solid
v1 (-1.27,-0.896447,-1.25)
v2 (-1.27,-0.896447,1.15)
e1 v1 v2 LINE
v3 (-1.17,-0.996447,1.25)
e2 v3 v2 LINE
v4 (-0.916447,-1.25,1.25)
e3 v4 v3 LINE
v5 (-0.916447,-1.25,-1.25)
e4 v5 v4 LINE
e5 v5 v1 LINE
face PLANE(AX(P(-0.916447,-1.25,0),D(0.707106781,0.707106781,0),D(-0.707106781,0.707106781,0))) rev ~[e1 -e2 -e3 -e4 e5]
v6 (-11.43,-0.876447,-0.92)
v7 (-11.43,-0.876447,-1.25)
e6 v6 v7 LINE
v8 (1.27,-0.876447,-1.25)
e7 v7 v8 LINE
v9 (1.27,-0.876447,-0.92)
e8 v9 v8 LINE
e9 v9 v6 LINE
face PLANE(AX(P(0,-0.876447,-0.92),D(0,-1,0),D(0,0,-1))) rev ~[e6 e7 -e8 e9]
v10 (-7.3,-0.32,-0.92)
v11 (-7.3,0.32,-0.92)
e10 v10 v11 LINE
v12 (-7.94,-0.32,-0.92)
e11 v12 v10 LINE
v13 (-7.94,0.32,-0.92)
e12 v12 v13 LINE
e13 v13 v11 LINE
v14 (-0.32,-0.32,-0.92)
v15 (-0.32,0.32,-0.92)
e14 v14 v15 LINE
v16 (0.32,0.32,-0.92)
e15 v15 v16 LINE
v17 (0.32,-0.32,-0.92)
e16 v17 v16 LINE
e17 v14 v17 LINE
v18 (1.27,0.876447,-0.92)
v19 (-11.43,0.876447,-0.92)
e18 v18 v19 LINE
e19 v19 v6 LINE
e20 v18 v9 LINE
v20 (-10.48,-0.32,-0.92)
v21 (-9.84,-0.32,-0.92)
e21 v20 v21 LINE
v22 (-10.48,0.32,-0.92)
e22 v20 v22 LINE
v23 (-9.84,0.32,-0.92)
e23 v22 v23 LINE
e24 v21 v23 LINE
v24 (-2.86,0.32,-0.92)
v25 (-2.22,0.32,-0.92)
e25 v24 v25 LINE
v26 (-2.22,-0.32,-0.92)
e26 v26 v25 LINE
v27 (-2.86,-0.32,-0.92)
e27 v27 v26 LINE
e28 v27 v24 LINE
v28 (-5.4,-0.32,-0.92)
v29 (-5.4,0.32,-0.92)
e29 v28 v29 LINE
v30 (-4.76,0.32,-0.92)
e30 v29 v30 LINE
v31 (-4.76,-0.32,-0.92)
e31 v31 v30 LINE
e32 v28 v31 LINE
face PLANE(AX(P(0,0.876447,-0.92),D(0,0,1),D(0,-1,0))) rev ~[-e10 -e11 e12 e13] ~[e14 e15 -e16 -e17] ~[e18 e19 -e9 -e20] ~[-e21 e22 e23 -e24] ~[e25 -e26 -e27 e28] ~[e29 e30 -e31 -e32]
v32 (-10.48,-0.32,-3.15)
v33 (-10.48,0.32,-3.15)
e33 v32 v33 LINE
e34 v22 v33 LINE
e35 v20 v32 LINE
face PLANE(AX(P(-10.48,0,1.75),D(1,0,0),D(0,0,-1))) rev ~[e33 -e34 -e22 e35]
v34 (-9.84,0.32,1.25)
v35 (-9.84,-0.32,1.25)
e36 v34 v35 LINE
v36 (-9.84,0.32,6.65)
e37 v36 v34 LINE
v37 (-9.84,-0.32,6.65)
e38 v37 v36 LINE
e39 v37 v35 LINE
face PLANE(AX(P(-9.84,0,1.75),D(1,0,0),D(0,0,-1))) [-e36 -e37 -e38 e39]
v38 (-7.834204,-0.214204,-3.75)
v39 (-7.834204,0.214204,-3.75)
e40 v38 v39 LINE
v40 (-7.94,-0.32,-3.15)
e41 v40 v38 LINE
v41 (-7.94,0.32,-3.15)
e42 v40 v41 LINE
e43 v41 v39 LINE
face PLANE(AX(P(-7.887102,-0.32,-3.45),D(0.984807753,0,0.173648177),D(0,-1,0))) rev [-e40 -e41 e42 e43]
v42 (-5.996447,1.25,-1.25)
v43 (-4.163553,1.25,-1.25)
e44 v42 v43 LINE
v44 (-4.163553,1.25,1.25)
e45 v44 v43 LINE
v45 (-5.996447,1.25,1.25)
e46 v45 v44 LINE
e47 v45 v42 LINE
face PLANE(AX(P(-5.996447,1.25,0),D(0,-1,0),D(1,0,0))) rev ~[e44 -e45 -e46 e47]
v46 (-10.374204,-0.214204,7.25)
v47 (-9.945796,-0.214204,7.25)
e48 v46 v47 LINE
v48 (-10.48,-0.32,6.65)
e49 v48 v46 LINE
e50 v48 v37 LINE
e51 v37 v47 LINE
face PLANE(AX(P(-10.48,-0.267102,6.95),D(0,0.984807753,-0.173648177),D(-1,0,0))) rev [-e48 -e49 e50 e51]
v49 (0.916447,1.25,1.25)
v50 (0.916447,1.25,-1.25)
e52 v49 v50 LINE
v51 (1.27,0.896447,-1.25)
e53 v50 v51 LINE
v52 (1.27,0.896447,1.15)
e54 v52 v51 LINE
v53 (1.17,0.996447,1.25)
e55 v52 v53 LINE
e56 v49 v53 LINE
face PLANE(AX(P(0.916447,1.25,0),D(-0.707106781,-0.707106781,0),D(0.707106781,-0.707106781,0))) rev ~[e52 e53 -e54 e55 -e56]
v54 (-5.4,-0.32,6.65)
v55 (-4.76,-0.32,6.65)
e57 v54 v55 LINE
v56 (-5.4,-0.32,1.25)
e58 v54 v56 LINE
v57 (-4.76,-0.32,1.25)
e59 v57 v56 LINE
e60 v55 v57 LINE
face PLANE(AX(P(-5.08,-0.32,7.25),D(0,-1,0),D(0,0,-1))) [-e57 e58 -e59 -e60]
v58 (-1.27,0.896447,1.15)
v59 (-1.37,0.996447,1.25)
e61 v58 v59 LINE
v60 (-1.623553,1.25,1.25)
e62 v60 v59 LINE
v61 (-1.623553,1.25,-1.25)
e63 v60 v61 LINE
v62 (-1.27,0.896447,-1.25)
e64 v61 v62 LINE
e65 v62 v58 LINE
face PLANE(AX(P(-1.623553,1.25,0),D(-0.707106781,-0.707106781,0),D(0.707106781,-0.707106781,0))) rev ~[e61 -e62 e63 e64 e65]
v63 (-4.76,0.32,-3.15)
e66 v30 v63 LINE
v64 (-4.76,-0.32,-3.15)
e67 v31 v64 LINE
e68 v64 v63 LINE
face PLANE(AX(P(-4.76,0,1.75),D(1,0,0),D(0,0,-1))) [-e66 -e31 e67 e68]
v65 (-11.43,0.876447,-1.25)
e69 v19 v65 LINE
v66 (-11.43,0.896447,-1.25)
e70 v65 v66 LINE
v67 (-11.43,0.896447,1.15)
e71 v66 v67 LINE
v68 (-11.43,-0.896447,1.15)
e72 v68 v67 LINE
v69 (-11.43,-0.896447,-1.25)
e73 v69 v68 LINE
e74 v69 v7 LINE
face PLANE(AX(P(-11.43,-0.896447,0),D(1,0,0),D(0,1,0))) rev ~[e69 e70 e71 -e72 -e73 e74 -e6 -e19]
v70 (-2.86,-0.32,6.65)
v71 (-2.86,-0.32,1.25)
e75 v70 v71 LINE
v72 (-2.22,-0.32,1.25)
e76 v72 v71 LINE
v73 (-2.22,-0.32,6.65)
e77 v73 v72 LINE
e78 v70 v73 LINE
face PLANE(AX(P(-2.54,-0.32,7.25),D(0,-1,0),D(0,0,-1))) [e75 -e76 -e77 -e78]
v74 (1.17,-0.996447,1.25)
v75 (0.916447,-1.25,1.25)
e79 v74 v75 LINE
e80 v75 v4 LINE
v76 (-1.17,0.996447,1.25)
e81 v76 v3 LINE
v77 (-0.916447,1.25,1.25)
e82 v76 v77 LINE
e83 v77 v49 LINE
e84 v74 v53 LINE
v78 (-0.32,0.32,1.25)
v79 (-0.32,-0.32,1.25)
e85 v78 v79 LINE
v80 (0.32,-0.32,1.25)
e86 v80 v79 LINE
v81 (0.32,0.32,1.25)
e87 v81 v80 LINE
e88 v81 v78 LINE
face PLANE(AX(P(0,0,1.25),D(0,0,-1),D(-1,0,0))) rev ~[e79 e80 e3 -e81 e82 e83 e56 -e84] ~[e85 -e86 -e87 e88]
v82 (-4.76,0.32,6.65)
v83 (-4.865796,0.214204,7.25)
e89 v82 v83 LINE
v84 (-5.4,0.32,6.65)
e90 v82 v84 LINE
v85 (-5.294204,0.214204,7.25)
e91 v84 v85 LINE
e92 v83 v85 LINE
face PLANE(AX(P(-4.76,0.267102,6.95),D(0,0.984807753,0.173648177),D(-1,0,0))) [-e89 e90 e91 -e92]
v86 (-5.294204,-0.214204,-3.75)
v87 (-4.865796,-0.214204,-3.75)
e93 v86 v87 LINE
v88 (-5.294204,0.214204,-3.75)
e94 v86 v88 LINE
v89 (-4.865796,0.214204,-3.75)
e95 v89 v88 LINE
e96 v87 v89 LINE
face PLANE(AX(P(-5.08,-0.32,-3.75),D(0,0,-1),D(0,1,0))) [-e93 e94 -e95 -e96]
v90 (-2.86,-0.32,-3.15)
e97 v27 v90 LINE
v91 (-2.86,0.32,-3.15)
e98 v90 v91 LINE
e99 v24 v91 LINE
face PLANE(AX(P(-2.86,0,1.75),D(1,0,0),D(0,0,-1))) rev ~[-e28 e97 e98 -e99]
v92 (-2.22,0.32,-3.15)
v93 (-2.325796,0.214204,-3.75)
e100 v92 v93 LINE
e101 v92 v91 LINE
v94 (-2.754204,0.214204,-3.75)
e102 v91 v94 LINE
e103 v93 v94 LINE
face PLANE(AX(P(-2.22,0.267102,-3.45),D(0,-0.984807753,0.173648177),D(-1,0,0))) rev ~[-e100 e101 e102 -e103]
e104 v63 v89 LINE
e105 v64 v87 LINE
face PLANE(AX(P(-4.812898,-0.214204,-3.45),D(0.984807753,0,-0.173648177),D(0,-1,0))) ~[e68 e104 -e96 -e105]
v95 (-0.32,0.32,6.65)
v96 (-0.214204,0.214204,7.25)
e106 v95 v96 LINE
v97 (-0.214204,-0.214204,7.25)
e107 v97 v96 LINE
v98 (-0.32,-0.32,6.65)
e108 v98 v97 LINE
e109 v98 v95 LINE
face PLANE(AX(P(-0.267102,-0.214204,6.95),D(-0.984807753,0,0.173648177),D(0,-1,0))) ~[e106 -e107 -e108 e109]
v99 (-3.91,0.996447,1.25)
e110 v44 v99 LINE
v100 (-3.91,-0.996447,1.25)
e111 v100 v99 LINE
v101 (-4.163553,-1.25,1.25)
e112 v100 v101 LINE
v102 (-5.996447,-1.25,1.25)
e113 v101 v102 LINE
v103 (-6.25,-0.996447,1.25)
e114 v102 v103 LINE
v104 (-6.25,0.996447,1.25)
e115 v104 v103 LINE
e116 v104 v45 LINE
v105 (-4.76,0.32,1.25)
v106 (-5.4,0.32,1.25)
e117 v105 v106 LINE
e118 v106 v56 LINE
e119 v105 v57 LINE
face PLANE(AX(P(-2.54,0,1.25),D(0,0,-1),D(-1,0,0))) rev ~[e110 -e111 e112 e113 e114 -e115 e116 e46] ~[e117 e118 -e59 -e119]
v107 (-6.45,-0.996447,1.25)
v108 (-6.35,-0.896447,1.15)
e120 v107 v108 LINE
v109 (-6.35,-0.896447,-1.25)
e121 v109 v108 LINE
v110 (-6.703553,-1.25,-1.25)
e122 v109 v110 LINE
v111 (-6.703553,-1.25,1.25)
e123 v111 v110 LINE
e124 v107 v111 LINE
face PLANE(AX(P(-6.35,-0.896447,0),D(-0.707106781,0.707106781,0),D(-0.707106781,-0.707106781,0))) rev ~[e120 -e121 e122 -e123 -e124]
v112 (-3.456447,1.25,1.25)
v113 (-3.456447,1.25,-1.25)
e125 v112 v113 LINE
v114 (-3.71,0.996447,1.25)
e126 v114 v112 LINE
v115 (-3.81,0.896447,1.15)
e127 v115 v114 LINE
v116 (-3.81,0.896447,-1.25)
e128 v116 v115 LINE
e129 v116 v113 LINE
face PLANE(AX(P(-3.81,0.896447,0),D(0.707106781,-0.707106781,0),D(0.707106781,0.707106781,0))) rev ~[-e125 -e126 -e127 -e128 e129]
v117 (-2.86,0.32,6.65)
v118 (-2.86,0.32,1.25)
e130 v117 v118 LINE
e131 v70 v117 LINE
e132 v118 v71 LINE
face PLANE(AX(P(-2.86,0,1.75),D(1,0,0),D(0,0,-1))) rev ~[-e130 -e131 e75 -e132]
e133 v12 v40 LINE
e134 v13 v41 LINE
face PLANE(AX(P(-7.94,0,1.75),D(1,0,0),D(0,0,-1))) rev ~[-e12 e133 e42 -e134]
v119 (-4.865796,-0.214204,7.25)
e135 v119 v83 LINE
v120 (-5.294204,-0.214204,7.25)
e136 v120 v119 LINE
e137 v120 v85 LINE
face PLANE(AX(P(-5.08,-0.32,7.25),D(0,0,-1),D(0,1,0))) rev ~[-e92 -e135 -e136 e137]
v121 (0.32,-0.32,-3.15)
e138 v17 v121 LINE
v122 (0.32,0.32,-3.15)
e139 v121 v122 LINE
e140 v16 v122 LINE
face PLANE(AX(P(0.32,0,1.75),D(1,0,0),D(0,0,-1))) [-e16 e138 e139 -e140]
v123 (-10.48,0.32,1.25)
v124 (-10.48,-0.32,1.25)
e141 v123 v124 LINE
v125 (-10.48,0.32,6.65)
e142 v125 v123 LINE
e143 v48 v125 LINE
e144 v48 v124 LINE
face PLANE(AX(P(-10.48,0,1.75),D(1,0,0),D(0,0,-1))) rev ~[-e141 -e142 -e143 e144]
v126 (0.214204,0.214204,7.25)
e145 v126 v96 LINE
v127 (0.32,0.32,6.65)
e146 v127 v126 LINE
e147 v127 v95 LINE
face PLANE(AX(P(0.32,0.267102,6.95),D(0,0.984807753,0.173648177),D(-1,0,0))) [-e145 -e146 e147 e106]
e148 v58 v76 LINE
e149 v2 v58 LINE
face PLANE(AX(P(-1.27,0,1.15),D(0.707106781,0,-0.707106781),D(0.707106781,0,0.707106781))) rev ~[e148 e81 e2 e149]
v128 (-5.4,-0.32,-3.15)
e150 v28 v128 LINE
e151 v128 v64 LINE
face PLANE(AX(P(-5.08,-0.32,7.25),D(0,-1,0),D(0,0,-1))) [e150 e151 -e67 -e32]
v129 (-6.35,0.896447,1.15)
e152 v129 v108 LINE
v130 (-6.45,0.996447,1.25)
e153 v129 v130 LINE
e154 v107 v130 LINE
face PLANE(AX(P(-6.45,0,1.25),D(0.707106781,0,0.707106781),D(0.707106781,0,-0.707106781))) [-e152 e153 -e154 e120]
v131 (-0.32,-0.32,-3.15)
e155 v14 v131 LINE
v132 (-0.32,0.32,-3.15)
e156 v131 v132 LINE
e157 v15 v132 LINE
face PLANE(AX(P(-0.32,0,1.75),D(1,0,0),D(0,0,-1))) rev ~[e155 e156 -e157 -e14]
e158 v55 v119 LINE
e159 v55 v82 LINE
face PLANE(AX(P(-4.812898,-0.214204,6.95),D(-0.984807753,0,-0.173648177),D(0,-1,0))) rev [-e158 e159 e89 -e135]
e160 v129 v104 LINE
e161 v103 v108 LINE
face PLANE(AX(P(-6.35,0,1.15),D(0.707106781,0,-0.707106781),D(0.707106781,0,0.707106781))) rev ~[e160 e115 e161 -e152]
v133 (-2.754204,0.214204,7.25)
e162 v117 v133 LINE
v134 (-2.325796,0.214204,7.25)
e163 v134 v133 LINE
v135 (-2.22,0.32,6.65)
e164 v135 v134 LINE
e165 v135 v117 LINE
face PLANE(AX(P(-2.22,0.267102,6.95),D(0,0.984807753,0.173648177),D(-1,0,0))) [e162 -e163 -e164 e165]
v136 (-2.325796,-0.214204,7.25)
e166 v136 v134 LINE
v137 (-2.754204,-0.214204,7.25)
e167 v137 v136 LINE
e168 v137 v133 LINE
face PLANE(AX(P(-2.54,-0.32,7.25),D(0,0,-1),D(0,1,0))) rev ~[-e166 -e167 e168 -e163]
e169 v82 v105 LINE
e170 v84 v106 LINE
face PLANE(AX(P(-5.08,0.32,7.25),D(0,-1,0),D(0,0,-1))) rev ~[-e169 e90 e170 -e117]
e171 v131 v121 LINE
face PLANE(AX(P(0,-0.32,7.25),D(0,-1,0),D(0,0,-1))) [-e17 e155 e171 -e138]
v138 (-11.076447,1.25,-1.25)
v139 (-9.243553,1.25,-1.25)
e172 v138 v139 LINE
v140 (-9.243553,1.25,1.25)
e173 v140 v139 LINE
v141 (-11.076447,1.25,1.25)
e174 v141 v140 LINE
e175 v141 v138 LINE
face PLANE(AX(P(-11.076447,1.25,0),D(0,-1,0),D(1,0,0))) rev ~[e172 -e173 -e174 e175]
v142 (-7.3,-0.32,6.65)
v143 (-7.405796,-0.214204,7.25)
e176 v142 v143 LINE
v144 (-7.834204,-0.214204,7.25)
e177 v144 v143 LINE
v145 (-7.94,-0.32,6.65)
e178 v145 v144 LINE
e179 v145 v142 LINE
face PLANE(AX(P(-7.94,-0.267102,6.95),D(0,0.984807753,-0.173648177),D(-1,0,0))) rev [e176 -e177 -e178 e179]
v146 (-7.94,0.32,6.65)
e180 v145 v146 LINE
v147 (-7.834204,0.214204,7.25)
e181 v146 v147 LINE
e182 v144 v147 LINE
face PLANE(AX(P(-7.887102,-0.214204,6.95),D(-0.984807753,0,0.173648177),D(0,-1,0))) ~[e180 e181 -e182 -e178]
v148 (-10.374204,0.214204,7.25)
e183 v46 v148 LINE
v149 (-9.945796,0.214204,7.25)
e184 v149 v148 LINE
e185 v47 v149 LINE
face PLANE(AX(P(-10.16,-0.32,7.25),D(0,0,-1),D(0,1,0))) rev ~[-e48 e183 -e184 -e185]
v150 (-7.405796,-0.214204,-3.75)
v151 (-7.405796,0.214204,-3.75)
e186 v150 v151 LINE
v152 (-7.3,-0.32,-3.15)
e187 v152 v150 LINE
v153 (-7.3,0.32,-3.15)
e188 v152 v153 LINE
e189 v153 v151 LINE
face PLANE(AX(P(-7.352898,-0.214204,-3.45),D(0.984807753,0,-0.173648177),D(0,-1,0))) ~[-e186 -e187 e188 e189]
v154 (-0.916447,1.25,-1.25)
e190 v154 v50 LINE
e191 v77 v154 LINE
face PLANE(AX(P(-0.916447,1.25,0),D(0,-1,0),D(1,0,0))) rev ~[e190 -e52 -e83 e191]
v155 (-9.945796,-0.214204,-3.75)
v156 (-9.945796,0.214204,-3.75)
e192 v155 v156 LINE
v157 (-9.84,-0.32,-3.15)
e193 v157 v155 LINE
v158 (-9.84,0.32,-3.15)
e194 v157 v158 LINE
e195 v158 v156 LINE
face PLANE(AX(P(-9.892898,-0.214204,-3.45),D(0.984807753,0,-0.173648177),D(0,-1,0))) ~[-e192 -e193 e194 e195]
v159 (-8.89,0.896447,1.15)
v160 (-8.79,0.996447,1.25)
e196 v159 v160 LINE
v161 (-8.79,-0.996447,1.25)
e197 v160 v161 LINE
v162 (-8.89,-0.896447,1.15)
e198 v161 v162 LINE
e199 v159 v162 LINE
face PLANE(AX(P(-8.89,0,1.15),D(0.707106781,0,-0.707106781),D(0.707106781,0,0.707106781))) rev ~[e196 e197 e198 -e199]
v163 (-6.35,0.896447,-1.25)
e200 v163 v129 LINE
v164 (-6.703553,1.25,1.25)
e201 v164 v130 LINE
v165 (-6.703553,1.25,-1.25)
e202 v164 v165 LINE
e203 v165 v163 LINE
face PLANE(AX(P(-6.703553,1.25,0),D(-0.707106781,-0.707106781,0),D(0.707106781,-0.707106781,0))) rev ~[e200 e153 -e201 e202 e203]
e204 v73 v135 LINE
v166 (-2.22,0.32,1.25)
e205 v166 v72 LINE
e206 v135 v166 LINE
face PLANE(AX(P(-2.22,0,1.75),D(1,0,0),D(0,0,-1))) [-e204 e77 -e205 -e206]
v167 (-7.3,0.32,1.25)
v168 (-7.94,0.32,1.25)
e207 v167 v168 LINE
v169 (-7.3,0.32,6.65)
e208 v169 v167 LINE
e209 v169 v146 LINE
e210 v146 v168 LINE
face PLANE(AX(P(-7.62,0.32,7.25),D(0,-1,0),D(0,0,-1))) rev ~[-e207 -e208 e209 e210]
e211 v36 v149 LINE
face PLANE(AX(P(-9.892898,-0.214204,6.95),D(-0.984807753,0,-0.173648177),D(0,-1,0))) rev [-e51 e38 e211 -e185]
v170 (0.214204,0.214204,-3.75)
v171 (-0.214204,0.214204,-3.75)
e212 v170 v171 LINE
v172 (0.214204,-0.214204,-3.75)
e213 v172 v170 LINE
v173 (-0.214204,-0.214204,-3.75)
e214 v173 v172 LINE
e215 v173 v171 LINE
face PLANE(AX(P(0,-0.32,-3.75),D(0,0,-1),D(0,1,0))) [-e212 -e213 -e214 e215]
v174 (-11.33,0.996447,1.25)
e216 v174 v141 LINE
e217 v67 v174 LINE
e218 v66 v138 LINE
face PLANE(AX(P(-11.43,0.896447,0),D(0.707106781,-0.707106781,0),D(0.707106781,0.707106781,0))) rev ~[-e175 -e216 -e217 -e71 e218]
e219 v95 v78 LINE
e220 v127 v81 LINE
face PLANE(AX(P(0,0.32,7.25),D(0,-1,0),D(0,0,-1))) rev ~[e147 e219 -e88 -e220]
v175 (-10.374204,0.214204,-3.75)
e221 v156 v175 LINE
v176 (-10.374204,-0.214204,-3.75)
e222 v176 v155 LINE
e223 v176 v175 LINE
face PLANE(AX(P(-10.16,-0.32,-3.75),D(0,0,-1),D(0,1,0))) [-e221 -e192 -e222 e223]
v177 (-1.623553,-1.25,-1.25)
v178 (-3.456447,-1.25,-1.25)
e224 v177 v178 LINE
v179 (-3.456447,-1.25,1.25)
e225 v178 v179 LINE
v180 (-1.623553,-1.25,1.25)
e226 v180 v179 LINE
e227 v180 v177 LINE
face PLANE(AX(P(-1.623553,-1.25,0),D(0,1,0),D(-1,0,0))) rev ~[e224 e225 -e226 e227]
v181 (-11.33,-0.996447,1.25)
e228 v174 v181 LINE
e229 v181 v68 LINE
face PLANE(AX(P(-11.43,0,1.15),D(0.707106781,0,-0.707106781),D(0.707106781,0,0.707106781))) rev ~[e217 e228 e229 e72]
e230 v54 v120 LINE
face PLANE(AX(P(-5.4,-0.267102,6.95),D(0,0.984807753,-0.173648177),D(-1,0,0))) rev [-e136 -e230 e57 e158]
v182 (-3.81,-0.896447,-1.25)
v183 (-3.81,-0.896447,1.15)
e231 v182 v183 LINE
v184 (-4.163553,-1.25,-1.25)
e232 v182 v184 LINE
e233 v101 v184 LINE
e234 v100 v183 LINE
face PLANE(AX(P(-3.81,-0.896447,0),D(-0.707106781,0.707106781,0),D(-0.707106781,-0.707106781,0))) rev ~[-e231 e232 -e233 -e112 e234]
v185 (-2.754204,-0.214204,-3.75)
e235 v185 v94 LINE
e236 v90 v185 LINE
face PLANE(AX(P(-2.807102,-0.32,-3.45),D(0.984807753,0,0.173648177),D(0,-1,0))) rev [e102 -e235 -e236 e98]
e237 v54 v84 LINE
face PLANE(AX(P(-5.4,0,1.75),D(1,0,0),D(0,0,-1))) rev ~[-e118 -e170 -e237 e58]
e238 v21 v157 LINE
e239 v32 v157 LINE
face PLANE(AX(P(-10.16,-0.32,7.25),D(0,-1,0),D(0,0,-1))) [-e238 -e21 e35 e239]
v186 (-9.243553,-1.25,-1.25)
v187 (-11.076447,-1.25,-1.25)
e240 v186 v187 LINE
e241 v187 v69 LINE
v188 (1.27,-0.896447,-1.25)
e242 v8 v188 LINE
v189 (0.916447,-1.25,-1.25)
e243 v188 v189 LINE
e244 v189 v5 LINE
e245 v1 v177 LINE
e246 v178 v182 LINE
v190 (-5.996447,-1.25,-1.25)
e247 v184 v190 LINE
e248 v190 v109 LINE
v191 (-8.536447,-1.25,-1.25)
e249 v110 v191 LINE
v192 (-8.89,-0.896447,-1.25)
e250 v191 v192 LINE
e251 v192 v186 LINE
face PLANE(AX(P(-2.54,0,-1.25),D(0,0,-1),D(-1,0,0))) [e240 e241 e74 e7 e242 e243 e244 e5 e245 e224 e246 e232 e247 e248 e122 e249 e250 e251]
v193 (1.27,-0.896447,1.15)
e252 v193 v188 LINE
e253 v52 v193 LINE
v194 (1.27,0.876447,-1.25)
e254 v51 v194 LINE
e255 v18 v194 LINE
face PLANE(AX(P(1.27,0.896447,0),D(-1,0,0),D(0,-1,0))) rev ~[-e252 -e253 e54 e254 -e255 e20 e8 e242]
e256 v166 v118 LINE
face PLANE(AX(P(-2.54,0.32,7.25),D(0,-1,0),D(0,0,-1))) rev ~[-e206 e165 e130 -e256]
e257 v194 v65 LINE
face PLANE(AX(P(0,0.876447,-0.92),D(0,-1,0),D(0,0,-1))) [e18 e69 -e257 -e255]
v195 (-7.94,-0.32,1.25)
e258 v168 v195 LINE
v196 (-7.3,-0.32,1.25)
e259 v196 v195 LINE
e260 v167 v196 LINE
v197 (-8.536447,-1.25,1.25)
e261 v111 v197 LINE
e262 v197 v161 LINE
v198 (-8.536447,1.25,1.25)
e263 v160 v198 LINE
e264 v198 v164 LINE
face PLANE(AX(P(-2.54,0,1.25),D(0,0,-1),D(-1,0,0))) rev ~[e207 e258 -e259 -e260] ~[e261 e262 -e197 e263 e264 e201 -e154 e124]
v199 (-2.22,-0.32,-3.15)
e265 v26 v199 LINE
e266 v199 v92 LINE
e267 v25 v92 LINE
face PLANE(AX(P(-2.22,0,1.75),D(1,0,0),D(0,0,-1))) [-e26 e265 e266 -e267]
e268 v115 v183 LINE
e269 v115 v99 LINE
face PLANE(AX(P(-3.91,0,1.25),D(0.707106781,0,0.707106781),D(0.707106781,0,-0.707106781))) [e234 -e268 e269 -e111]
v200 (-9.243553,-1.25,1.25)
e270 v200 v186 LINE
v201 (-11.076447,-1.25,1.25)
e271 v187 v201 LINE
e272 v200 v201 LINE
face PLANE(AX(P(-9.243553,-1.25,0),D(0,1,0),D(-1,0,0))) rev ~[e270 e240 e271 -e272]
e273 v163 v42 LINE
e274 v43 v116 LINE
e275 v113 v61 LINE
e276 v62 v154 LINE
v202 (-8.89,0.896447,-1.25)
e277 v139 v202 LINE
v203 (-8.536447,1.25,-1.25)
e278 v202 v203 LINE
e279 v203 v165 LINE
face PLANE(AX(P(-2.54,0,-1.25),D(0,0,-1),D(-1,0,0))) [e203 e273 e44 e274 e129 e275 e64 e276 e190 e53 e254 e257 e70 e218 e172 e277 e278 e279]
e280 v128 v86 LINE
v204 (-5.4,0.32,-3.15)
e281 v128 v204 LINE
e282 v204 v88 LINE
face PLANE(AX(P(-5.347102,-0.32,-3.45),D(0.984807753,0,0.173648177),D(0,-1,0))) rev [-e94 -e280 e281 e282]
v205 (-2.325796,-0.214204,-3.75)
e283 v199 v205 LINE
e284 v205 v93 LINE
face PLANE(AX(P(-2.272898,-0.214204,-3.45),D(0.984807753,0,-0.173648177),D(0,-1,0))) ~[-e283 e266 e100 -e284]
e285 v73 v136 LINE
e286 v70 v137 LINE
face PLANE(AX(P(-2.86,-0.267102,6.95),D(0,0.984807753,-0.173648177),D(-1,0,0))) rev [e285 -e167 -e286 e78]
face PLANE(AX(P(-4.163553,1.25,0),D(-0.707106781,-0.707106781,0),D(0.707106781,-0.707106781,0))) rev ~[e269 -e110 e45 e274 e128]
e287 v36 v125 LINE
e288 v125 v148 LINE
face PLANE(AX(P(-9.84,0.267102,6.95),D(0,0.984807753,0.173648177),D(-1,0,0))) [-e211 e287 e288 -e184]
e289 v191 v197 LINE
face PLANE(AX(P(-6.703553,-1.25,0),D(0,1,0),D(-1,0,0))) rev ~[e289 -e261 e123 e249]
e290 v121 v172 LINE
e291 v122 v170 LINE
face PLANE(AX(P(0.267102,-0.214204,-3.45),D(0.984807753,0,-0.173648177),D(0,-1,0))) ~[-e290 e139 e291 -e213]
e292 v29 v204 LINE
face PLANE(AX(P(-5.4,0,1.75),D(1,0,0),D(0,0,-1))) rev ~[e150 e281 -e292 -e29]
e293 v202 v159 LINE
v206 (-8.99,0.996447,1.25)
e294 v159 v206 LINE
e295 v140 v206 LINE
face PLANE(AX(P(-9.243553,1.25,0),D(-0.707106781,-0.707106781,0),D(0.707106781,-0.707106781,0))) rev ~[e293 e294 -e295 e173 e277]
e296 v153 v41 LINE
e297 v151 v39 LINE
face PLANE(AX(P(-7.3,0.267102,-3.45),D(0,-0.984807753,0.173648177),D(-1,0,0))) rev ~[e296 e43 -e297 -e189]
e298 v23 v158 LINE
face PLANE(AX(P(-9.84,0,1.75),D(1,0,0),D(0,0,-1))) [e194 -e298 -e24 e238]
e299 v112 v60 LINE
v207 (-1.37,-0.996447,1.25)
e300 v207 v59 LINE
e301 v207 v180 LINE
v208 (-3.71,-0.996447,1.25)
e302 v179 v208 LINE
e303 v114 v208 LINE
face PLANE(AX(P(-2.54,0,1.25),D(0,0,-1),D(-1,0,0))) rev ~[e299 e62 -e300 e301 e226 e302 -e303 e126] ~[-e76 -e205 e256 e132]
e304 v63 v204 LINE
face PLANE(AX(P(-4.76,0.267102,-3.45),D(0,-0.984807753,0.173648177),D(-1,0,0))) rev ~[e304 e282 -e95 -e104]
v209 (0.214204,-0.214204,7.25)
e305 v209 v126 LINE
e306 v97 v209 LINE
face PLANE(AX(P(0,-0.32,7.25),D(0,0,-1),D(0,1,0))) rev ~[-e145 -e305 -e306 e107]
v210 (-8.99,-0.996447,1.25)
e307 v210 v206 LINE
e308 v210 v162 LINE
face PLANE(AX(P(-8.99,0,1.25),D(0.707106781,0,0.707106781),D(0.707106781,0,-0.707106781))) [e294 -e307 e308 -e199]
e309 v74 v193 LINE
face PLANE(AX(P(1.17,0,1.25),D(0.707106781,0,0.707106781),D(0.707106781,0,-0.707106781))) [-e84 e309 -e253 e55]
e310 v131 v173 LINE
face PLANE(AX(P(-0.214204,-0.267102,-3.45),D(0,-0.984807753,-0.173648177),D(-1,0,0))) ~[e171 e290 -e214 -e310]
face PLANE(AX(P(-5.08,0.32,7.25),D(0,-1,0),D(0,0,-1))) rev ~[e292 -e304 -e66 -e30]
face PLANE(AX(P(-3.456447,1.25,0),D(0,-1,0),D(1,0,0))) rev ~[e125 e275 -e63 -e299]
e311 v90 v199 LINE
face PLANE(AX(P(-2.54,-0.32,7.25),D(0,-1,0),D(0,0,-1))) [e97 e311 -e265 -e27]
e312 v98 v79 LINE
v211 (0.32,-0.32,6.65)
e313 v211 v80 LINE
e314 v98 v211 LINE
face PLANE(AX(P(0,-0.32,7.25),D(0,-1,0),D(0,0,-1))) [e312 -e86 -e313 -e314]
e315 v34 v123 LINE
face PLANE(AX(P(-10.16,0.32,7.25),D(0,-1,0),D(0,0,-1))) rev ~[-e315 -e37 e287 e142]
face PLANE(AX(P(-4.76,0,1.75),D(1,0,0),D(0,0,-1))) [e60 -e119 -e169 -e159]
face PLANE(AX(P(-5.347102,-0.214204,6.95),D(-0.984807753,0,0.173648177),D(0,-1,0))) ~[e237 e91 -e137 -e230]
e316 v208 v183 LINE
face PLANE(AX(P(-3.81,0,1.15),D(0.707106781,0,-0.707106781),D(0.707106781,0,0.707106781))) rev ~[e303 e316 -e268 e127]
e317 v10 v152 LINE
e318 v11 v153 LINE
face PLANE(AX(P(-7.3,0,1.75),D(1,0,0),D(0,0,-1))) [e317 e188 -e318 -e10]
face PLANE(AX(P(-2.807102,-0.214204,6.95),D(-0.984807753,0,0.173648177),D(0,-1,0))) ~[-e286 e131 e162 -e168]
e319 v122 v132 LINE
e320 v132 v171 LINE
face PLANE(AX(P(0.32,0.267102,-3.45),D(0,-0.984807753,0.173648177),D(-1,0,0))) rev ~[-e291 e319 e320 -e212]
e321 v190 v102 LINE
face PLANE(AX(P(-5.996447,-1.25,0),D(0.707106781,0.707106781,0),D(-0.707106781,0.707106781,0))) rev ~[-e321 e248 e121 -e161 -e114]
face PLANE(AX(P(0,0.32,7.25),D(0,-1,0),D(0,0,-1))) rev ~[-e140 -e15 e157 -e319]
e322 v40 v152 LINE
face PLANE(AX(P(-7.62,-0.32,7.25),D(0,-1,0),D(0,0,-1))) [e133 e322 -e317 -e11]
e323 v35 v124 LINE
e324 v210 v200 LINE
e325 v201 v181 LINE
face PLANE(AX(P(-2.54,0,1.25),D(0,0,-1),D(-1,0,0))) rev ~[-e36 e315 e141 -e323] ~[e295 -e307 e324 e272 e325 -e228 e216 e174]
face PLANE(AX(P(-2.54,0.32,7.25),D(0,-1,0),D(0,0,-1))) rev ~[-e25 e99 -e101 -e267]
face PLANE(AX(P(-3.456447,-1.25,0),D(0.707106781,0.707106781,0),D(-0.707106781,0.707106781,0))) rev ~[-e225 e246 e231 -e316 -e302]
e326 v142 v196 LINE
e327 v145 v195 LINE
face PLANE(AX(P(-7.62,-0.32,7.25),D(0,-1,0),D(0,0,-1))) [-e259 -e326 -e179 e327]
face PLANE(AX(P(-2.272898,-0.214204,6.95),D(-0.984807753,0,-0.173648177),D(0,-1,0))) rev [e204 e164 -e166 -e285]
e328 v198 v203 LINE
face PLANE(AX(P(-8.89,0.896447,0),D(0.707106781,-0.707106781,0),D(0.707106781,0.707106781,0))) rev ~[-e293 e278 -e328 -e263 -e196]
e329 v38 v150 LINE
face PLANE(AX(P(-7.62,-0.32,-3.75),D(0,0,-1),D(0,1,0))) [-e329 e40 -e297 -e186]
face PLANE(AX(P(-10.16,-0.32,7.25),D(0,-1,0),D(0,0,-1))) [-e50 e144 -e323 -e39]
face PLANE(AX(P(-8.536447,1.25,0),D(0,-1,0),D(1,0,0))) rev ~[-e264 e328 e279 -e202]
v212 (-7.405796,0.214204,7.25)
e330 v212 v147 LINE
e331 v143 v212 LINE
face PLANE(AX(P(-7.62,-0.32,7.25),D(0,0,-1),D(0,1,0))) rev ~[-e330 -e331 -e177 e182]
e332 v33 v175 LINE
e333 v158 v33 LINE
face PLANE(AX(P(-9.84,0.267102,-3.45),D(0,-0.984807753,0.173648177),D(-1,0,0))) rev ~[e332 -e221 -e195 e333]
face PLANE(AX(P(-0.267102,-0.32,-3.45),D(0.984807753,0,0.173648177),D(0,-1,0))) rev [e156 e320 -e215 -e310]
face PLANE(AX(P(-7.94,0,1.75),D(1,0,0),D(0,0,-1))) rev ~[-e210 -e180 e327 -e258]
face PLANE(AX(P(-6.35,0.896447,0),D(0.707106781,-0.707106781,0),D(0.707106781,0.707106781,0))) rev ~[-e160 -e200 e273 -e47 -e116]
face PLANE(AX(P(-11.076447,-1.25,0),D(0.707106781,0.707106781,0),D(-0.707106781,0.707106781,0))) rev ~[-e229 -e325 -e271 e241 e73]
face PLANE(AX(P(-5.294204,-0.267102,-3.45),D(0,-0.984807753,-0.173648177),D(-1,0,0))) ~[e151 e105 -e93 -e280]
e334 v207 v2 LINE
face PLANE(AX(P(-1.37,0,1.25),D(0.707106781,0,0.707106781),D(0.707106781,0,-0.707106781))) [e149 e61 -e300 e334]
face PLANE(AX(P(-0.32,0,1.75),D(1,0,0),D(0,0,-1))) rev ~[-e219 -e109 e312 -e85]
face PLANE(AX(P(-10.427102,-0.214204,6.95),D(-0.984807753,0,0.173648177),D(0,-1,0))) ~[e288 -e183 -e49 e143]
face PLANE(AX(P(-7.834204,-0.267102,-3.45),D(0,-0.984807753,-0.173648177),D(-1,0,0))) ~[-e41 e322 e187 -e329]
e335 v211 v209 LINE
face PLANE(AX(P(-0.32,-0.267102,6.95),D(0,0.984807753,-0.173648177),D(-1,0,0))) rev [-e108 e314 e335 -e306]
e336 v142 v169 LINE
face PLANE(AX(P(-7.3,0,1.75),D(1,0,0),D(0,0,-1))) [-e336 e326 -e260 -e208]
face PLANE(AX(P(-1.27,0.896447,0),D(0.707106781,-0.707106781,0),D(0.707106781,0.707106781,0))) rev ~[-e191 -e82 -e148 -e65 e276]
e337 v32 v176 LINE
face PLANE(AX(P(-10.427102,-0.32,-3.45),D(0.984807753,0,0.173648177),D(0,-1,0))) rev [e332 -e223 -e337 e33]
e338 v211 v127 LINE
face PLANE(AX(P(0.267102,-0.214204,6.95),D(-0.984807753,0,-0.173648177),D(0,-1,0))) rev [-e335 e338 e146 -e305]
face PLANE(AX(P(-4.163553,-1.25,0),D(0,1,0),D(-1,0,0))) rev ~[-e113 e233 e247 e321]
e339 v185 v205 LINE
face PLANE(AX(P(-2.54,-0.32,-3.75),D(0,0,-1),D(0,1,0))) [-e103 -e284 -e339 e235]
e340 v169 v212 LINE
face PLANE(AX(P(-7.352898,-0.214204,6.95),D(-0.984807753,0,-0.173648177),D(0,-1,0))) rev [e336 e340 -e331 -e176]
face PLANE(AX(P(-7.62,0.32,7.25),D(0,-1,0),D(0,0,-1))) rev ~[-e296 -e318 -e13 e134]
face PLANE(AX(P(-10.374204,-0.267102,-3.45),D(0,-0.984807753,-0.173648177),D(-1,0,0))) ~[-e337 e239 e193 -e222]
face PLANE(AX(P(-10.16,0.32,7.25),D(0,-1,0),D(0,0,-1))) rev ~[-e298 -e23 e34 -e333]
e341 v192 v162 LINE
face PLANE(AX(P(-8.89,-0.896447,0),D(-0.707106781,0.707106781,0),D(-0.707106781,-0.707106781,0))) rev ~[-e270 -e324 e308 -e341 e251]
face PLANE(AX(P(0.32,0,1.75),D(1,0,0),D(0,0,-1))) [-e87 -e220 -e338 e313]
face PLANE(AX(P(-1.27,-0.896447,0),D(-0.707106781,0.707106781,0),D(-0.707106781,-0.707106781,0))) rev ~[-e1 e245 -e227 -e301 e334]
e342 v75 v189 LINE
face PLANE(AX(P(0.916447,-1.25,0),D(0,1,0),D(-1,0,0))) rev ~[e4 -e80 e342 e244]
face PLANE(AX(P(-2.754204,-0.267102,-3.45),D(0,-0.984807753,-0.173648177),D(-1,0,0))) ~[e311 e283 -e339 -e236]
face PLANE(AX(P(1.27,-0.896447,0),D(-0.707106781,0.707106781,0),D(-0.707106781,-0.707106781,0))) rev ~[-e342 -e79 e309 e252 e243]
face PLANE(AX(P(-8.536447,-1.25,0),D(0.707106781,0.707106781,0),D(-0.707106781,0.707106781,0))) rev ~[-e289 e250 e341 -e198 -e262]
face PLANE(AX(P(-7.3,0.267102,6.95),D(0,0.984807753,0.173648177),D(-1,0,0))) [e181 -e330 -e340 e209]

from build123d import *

# Parameters (mm, degrees)
EXTRUDE1_DEPTH          = 1.25
CUT_EXTRUDE3_DEPTH      = 2.25
LPATTERN4_COUNT         = 5
LPATTERN4_PITCH         = 2.54
SKETCH2_W               = 1.752893218
SKETCH2_H               = 0.33
CUT_EXTRUDE1_DEPTH      = 2.27
CUT_EXTRUDE1_DEPTH_BACK = 12.43
SKETCH3_W               = 11
SKETCH3_H               = 0.64
EXTRUDE_THIN1_DEPTH     = 0.32
LPATTERN5_COUNT         = 5
LPATTERN5_PITCH         = 2.54
CHAMFER2_SIZE           = 0.6
CHAMFER2_SIZE2          = 0.105796188
CHAMFER2_PART_2_SIZE    = 0.6
CHAMFER2_PART_2_SIZE2   = 0.105796188
CHAMFER2_PART_3_SIZE    = 0.6
CHAMFER2_PART_3_SIZE2   = 0.105796188
CHAMFER2_PART_4_SIZE    = 0.6
CHAMFER2_PART_4_SIZE2   = 0.105796188
CHAMFER2_PART_5_SIZE    = 0.6
CHAMFER2_PART_5_SIZE2   = 0.105796188
CHAMFER2_PART_6_SIZE    = 0.6
CHAMFER2_PART_6_SIZE2   = 0.105796188
CHAMFER2_PART_7_SIZE    = 0.6
CHAMFER2_PART_7_SIZE2   = 0.105796188
CHAMFER2_PART_8_SIZE    = 0.6
CHAMFER2_PART_8_SIZE2   = 0.105796188
CHAMFER2_PART_9_SIZE    = 0.6
CHAMFER2_PART_9_SIZE2   = 0.105796188
CHAMFER2_PART_10_SIZE   = 0.6
CHAMFER2_PART_10_SIZE2  = 0.105796188
CHAMFER2_PART_11_SIZE   = 0.6
CHAMFER2_PART_11_SIZE2  = 0.105796188
CHAMFER2_PART_12_SIZE   = 0.6
CHAMFER2_PART_12_SIZE2  = 0.105796188
CHAMFER2_PART_13_SIZE   = 0.6
CHAMFER2_PART_13_SIZE2  = 0.105796188
CHAMFER2_PART_14_SIZE   = 0.6
CHAMFER2_PART_14_SIZE2  = 0.105796188
CHAMFER2_PART_15_SIZE   = 0.6
CHAMFER2_PART_15_SIZE2  = 0.105796188
CHAMFER2_PART_16_SIZE   = 0.6
CHAMFER2_PART_16_SIZE2  = 0.105796188
CHAMFER2_PART_17_SIZE   = 0.6
CHAMFER2_PART_17_SIZE2  = 0.105796188
CHAMFER2_PART_18_SIZE   = 0.6
CHAMFER2_PART_18_SIZE2  = 0.105796188
CHAMFER2_PART_19_SIZE   = 0.6
CHAMFER2_PART_19_SIZE2  = 0.105796188
CHAMFER2_PART_20_SIZE   = 0.6
CHAMFER2_PART_20_SIZE2  = 0.105796188
CHAMFER2_PART_21_SIZE   = 0.6
CHAMFER2_PART_21_SIZE2  = 0.105796188
CHAMFER2_PART_22_SIZE   = 0.6
CHAMFER2_PART_22_SIZE2  = 0.105796188
CHAMFER2_PART_23_SIZE   = 0.6
CHAMFER2_PART_23_SIZE2  = 0.105796188
CHAMFER2_PART_24_SIZE   = 0.6
CHAMFER2_PART_24_SIZE2  = 0.105796188
CHAMFER2_PART_25_SIZE   = 0.6
CHAMFER2_PART_25_SIZE2  = 0.105796188
CHAMFER2_PART_26_SIZE   = 0.6
CHAMFER2_PART_26_SIZE2  = 0.105796188
CHAMFER2_PART_27_SIZE   = 0.6
CHAMFER2_PART_27_SIZE2  = 0.105796188
CHAMFER2_PART_28_SIZE   = 0.6
CHAMFER2_PART_28_SIZE2  = 0.105796188
CHAMFER2_PART_29_SIZE   = 0.6
CHAMFER2_PART_29_SIZE2  = 0.105796188
CHAMFER2_PART_30_SIZE   = 0.6
CHAMFER2_PART_30_SIZE2  = 0.105796188
CHAMFER2_PART_31_SIZE   = 0.6
CHAMFER2_PART_31_SIZE2  = 0.105796188
CHAMFER2_PART_32_SIZE   = 0.6
CHAMFER2_PART_32_SIZE2  = 0.105796188
CHAMFER2_PART_33_SIZE   = 0.6
CHAMFER2_PART_33_SIZE2  = 0.105796188
CHAMFER2_PART_34_SIZE   = 0.6
CHAMFER2_PART_34_SIZE2  = 0.105796188
CHAMFER2_PART_35_SIZE   = 0.6
CHAMFER2_PART_35_SIZE2  = 0.105796188
CHAMFER2_PART_36_SIZE   = 0.6
CHAMFER2_PART_36_SIZE2  = 0.105796188
CHAMFER2_PART_37_SIZE   = 0.6
CHAMFER2_PART_37_SIZE2  = 0.105796188
CHAMFER2_PART_38_SIZE   = 0.6
CHAMFER2_PART_38_SIZE2  = 0.105796188
CHAMFER2_PART_39_SIZE   = 0.6
CHAMFER2_PART_39_SIZE2  = 0.105796188
CHAMFER2_PART_40_SIZE   = 0.6
CHAMFER2_PART_40_SIZE2  = 0.105796188


with BuildPart() as part:
    # Sketch1 → Extrude1 (new body, symmetric)
    with BuildSketch(Plane.XY):
        Polygon((-1.27, 0.896446609), (-0.916446609, 1.25), (0.916446609, 1.25), (1.27, 0.896446609), (1.27, -0.896446609), (0.916446609, -1.25), (-0.916446609, -1.25), (-1.27, -0.896446609), align=None)
    extrude1 = extrude(amount=EXTRUDE1_DEPTH, both=True)

    # Sketch4 → Cut-Extrude3 (cut, symmetric)
    with BuildSketch(Plane(origin=(0, 0, 0), x_dir=(1, 0, 0), z_dir=(0, 1, 0))):
        Polygon((-1.27, -1.15), (-1.17, -1.25), (-1.27, -1.25), align=None)
        Polygon((1.17, -1.25), (1.27, -1.15), (1.27, -1.25), align=None)
    cut_extrude3 = extrude(amount=CUT_EXTRUDE3_DEPTH, both=True, mode=Mode.SUBTRACT)

    # LPattern4: Extrude1, Cut-Extrude3 ×5
    with Locations(*[(-i * LPATTERN4_PITCH, 0, 0) for i in range(1, LPATTERN4_COUNT)]):
        add(extrude1)
        add(cut_extrude3, mode=Mode.SUBTRACT)

    # Sketch2 → Cut-Extrude1 (cut, two sides)
    with BuildSketch(Plane(origin=(0, 0, 0), x_dir=(0, -1, 0), z_dir=(1, 0, 0))) as cut_extrude1_sk:
        with Locations((0, 1.085)):
            Rectangle(SKETCH2_W, SKETCH2_H)
    extrude(amount=CUT_EXTRUDE1_DEPTH, mode=Mode.SUBTRACT)
    extrude(cut_extrude1_sk.sketch, amount=-CUT_EXTRUDE1_DEPTH_BACK, mode=Mode.SUBTRACT)

    # Sketch3 → Extrude-Thin1 (add, symmetric)
    with BuildSketch(Plane(origin=(0, 0, 0), x_dir=(0, 0, -1), z_dir=(1, 0, 0))):
        with Locations((-1.75, 0)):
            Rectangle(SKETCH3_W, SKETCH3_H)
    extrude_thin1 = extrude(amount=EXTRUDE_THIN1_DEPTH, both=True)

    # LPattern5: Extrude-Thin1 ×5
    with Locations(*[(-i * LPATTERN5_PITCH, 0, 0) for i in range(1, LPATTERN5_COUNT)]):
        add(extrude_thin1)

    # Chamfer2
    chamfer2_edges = [part.edges().sort_by_distance(p)[0] for p in [
        (0, -0.32, 7.25),
    ]]
    chamfer2_side = [part.faces().sort_by_distance(p)[0] for p in [
        (0, -0.32, 4.25),
    ]]
    chamfer(chamfer2_edges, length=CHAMFER2_SIZE, length2=CHAMFER2_SIZE2, reference=chamfer2_side[0])

    # Chamfer2 part 2
    chamfer2_part_2_edges = [part.edges().sort_by_distance(p)[0] for p in [
        (0, 0.32, -3.75),
    ]]
    chamfer2_part_2_side = [part.faces().sort_by_distance(p)[0] for p in [
        (0, 0.32, -2.335),
    ]]
    chamfer(chamfer2_part_2_edges, length=CHAMFER2_PART_2_SIZE, length2=CHAMFER2_PART_2_SIZE2, reference=chamfer2_part_2_side[0])

    # Chamfer2 part 3
    chamfer2_part_3_edges = [part.edges().sort_by_distance(p)[0] for p in [
        (-0.32, 0, 7.25),
    ]]
    chamfer2_part_3_side = [part.faces().sort_by_distance(p)[0] for p in [
        (-0.32, 0, 4.25),
    ]]
    chamfer(chamfer2_part_3_edges, length=CHAMFER2_PART_3_SIZE, length2=CHAMFER2_PART_3_SIZE2, reference=chamfer2_part_3_side[0])

    # Chamfer2 part 4
    chamfer2_part_4_edges = [part.edges().sort_by_distance(p)[0] for p in [
        (-0.32, 0, -3.75),
    ]]
    chamfer2_part_4_side = [part.faces().sort_by_distance(p)[0] for p in [
        (-0.32, 0, -2.335),
    ]]
    chamfer(chamfer2_part_4_edges, length=CHAMFER2_PART_4_SIZE, length2=CHAMFER2_PART_4_SIZE2, reference=chamfer2_part_4_side[0])

    # Chamfer2 part 5
    chamfer2_part_5_edges = [part.edges().sort_by_distance(p)[0] for p in [
        (0, -0.32, -3.75),
    ]]
    chamfer2_part_5_side = [part.faces().sort_by_distance(p)[0] for p in [
        (0, -0.32, -2.335),
    ]]
    chamfer(chamfer2_part_5_edges, length=CHAMFER2_PART_5_SIZE, length2=CHAMFER2_PART_5_SIZE2, reference=chamfer2_part_5_side[0])

    # Chamfer2 part 6
    chamfer2_part_6_edges = [part.edges().sort_by_distance(p)[0] for p in [
        (0.32, 0, -3.75),
    ]]
    chamfer2_part_6_side = [part.faces().sort_by_distance(p)[0] for p in [
        (0.32, 0, -2.335),
    ]]
    chamfer(chamfer2_part_6_edges, length=CHAMFER2_PART_6_SIZE, length2=CHAMFER2_PART_6_SIZE2, reference=chamfer2_part_6_side[0])

    # Chamfer2 part 7
    chamfer2_part_7_edges = [part.edges().sort_by_distance(p)[0] for p in [
        (0, 0.32, 7.25),
    ]]
    chamfer2_part_7_side = [part.faces().sort_by_distance(p)[0] for p in [
        (0, 0.32, 4.25),
    ]]
    chamfer(chamfer2_part_7_edges, length=CHAMFER2_PART_7_SIZE, length2=CHAMFER2_PART_7_SIZE2, reference=chamfer2_part_7_side[0])

    # Chamfer2 part 8
    chamfer2_part_8_edges = [part.edges().sort_by_distance(p)[0] for p in [
        (0.32, 0, 7.25),
    ]]
    chamfer2_part_8_side = [part.faces().sort_by_distance(p)[0] for p in [
        (0.32, 0, 4.25),
    ]]
    chamfer(chamfer2_part_8_edges, length=CHAMFER2_PART_8_SIZE, length2=CHAMFER2_PART_8_SIZE2, reference=chamfer2_part_8_side[0])

    # Chamfer2 part 9
    chamfer2_part_9_edges = [part.edges().sort_by_distance(p)[0] for p in [
        (-2.54, -0.32, 7.25),
    ]]
    chamfer2_part_9_side = [part.faces().sort_by_distance(p)[0] for p in [
        (-2.54, -0.32, 4.25),
    ]]
    chamfer(chamfer2_part_9_edges, length=CHAMFER2_PART_9_SIZE, length2=CHAMFER2_PART_9_SIZE2, reference=chamfer2_part_9_side[0])

    # Chamfer2 part 10
    chamfer2_part_10_edges = [part.edges().sort_by_distance(p)[0] for p in [
        (-2.54, 0.32, -3.75),
    ]]
    chamfer2_part_10_side = [part.faces().sort_by_distance(p)[0] for p in [
        (-2.54, 0.32, -2.335),
    ]]
    chamfer(chamfer2_part_10_edges, length=CHAMFER2_PART_10_SIZE, length2=CHAMFER2_PART_10_SIZE2, reference=chamfer2_part_10_side[0])

    # Chamfer2 part 11
    chamfer2_part_11_edges = [part.edges().sort_by_distance(p)[0] for p in [
        (-2.86, 0, -3.75),
    ]]
    chamfer2_part_11_side = [part.faces().sort_by_distance(p)[0] for p in [
        (-2.86, 0, -2.335),
    ]]
    chamfer(chamfer2_part_11_edges, length=CHAMFER2_PART_11_SIZE, length2=CHAMFER2_PART_11_SIZE2, reference=chamfer2_part_11_side[0])

    # Chamfer2 part 12
    chamfer2_part_12_edges = [part.edges().sort_by_distance(p)[0] for p in [
        (-2.86, 0, 7.25),
    ]]
    chamfer2_part_12_side = [part.faces().sort_by_distance(p)[0] for p in [
        (-2.86, 0, 4.25),
    ]]
    chamfer(chamfer2_part_12_edges, length=CHAMFER2_PART_12_SIZE, length2=CHAMFER2_PART_12_SIZE2, reference=chamfer2_part_12_side[0])

    # Chamfer2 part 13
    chamfer2_part_13_edges = [part.edges().sort_by_distance(p)[0] for p in [
        (-2.54, -0.32, -3.75),
    ]]
    chamfer2_part_13_side = [part.faces().sort_by_distance(p)[0] for p in [
        (-2.54, -0.32, -2.335),
    ]]
    chamfer(chamfer2_part_13_edges, length=CHAMFER2_PART_13_SIZE, length2=CHAMFER2_PART_13_SIZE2, reference=chamfer2_part_13_side[0])

    # Chamfer2 part 14
    chamfer2_part_14_edges = [part.edges().sort_by_distance(p)[0] for p in [
        (-2.22, 0, -3.75),
    ]]
    chamfer2_part_14_side = [part.faces().sort_by_distance(p)[0] for p in [
        (-2.22, 0, -2.335),
    ]]
    chamfer(chamfer2_part_14_edges, length=CHAMFER2_PART_14_SIZE, length2=CHAMFER2_PART_14_SIZE2, reference=chamfer2_part_14_side[0])

    # Chamfer2 part 15
    chamfer2_part_15_edges = [part.edges().sort_by_distance(p)[0] for p in [
        (-2.54, 0.32, 7.25),
    ]]
    chamfer2_part_15_side = [part.faces().sort_by_distance(p)[0] for p in [
        (-2.54, 0.32, 4.25),
    ]]
    chamfer(chamfer2_part_15_edges, length=CHAMFER2_PART_15_SIZE, length2=CHAMFER2_PART_15_SIZE2, reference=chamfer2_part_15_side[0])

    # Chamfer2 part 16
    chamfer2_part_16_edges = [part.edges().sort_by_distance(p)[0] for p in [
        (-2.22, 0, 7.25),
    ]]
    chamfer2_part_16_side = [part.faces().sort_by_distance(p)[0] for p in [
        (-2.22, 0, 4.25),
    ]]
    chamfer(chamfer2_part_16_edges, length=CHAMFER2_PART_16_SIZE, length2=CHAMFER2_PART_16_SIZE2, reference=chamfer2_part_16_side[0])

    # Chamfer2 part 17
    chamfer2_part_17_edges = [part.edges().sort_by_distance(p)[0] for p in [
        (-5.08, -0.32, 7.25),
    ]]
    chamfer2_part_17_side = [part.faces().sort_by_distance(p)[0] for p in [
        (-5.08, -0.32, 4.25),
    ]]
    chamfer(chamfer2_part_17_edges, length=CHAMFER2_PART_17_SIZE, length2=CHAMFER2_PART_17_SIZE2, reference=chamfer2_part_17_side[0])

    # Chamfer2 part 18
    chamfer2_part_18_edges = [part.edges().sort_by_distance(p)[0] for p in [
        (-5.08, 0.32, -3.75),
    ]]
    chamfer2_part_18_side = [part.faces().sort_by_distance(p)[0] for p in [
        (-5.08, 0.32, -2.335),
    ]]
    chamfer(chamfer2_part_18_edges, length=CHAMFER2_PART_18_SIZE, length2=CHAMFER2_PART_18_SIZE2, reference=chamfer2_part_18_side[0])

    # Chamfer2 part 19
    chamfer2_part_19_edges = [part.edges().sort_by_distance(p)[0] for p in [
        (-5.4, 0, -3.75),
    ]]
    chamfer2_part_19_side = [part.faces().sort_by_distance(p)[0] for p in [
        (-5.4, 0, -2.335),
    ]]
    chamfer(chamfer2_part_19_edges, length=CHAMFER2_PART_19_SIZE, length2=CHAMFER2_PART_19_SIZE2, reference=chamfer2_part_19_side[0])

    # Chamfer2 part 20
    chamfer2_part_20_edges = [part.edges().sort_by_distance(p)[0] for p in [
        (-5.4, 0, 7.25),
    ]]
    chamfer2_part_20_side = [part.faces().sort_by_distance(p)[0] for p in [
        (-5.4, 0, 4.25),
    ]]
    chamfer(chamfer2_part_20_edges, length=CHAMFER2_PART_20_SIZE, length2=CHAMFER2_PART_20_SIZE2, reference=chamfer2_part_20_side[0])

    # Chamfer2 part 21
    chamfer2_part_21_edges = [part.edges().sort_by_distance(p)[0] for p in [
        (-5.08, -0.32, -3.75),
    ]]
    chamfer2_part_21_side = [part.faces().sort_by_distance(p)[0] for p in [
        (-5.08, -0.32, -2.335),
    ]]
    chamfer(chamfer2_part_21_edges, length=CHAMFER2_PART_21_SIZE, length2=CHAMFER2_PART_21_SIZE2, reference=chamfer2_part_21_side[0])

    # Chamfer2 part 22
    chamfer2_part_22_edges = [part.edges().sort_by_distance(p)[0] for p in [
        (-4.76, 0, -3.75),
    ]]
    chamfer2_part_22_side = [part.faces().sort_by_distance(p)[0] for p in [
        (-4.76, 0, -2.335),
    ]]
    chamfer(chamfer2_part_22_edges, length=CHAMFER2_PART_22_SIZE, length2=CHAMFER2_PART_22_SIZE2, reference=chamfer2_part_22_side[0])

    # Chamfer2 part 23
    chamfer2_part_23_edges = [part.edges().sort_by_distance(p)[0] for p in [
        (-5.08, 0.32, 7.25),
    ]]
    chamfer2_part_23_side = [part.faces().sort_by_distance(p)[0] for p in [
        (-5.08, 0.32, 4.25),
    ]]
    chamfer(chamfer2_part_23_edges, length=CHAMFER2_PART_23_SIZE, length2=CHAMFER2_PART_23_SIZE2, reference=chamfer2_part_23_side[0])

    # Chamfer2 part 24
    chamfer2_part_24_edges = [part.edges().sort_by_distance(p)[0] for p in [
        (-4.76, 0, 7.25),
    ]]
    chamfer2_part_24_side = [part.faces().sort_by_distance(p)[0] for p in [
        (-4.76, 0, 4.25),
    ]]
    chamfer(chamfer2_part_24_edges, length=CHAMFER2_PART_24_SIZE, length2=CHAMFER2_PART_24_SIZE2, reference=chamfer2_part_24_side[0])

    # Chamfer2 part 25
    chamfer2_part_25_edges = [part.edges().sort_by_distance(p)[0] for p in [
        (-7.62, -0.32, 7.25),
    ]]
    chamfer2_part_25_side = [part.faces().sort_by_distance(p)[0] for p in [
        (-7.62, -0.32, 4.25),
    ]]
    chamfer(chamfer2_part_25_edges, length=CHAMFER2_PART_25_SIZE, length2=CHAMFER2_PART_25_SIZE2, reference=chamfer2_part_25_side[0])

    # Chamfer2 part 26
    chamfer2_part_26_edges = [part.edges().sort_by_distance(p)[0] for p in [
        (-7.62, 0.32, -3.75),
    ]]
    chamfer2_part_26_side = [part.faces().sort_by_distance(p)[0] for p in [
        (-7.62, 0.32, -2.335),
    ]]
    chamfer(chamfer2_part_26_edges, length=CHAMFER2_PART_26_SIZE, length2=CHAMFER2_PART_26_SIZE2, reference=chamfer2_part_26_side[0])

    # Chamfer2 part 27
    chamfer2_part_27_edges = [part.edges().sort_by_distance(p)[0] for p in [
        (-7.94, 0, -3.75),
    ]]
    chamfer2_part_27_side = [part.faces().sort_by_distance(p)[0] for p in [
        (-7.94, 0, -2.335),
    ]]
    chamfer(chamfer2_part_27_edges, length=CHAMFER2_PART_27_SIZE, length2=CHAMFER2_PART_27_SIZE2, reference=chamfer2_part_27_side[0])

    # Chamfer2 part 28
    chamfer2_part_28_edges = [part.edges().sort_by_distance(p)[0] for p in [
        (-7.94, 0, 7.25),
    ]]
    chamfer2_part_28_side = [part.faces().sort_by_distance(p)[0] for p in [
        (-7.94, 0, 4.25),
    ]]
    chamfer(chamfer2_part_28_edges, length=CHAMFER2_PART_28_SIZE, length2=CHAMFER2_PART_28_SIZE2, reference=chamfer2_part_28_side[0])

    # Chamfer2 part 29
    chamfer2_part_29_edges = [part.edges().sort_by_distance(p)[0] for p in [
        (-7.62, -0.32, -3.75),
    ]]
    chamfer2_part_29_side = [part.faces().sort_by_distance(p)[0] for p in [
        (-7.62, -0.32, -2.335),
    ]]
    chamfer(chamfer2_part_29_edges, length=CHAMFER2_PART_29_SIZE, length2=CHAMFER2_PART_29_SIZE2, reference=chamfer2_part_29_side[0])

    # Chamfer2 part 30
    chamfer2_part_30_edges = [part.edges().sort_by_distance(p)[0] for p in [
        (-7.3, 0, -3.75),
    ]]
    chamfer2_part_30_side = [part.faces().sort_by_distance(p)[0] for p in [
        (-7.3, 0, -2.335),
    ]]
    chamfer(chamfer2_part_30_edges, length=CHAMFER2_PART_30_SIZE, length2=CHAMFER2_PART_30_SIZE2, reference=chamfer2_part_30_side[0])

    # Chamfer2 part 31
    chamfer2_part_31_edges = [part.edges().sort_by_distance(p)[0] for p in [
        (-7.62, 0.32, 7.25),
    ]]
    chamfer2_part_31_side = [part.faces().sort_by_distance(p)[0] for p in [
        (-7.62, 0.32, 4.25),
    ]]
    chamfer(chamfer2_part_31_edges, length=CHAMFER2_PART_31_SIZE, length2=CHAMFER2_PART_31_SIZE2, reference=chamfer2_part_31_side[0])

    # Chamfer2 part 32
    chamfer2_part_32_edges = [part.edges().sort_by_distance(p)[0] for p in [
        (-7.3, 0, 7.25),
    ]]
    chamfer2_part_32_side = [part.faces().sort_by_distance(p)[0] for p in [
        (-7.3, 0, 4.25),
    ]]
    chamfer(chamfer2_part_32_edges, length=CHAMFER2_PART_32_SIZE, length2=CHAMFER2_PART_32_SIZE2, reference=chamfer2_part_32_side[0])

    # Chamfer2 part 33
    chamfer2_part_33_edges = [part.edges().sort_by_distance(p)[0] for p in [
        (-10.16, -0.32, 7.25),
    ]]
    chamfer2_part_33_side = [part.faces().sort_by_distance(p)[0] for p in [
        (-10.16, -0.32, 4.25),
    ]]
    chamfer(chamfer2_part_33_edges, length=CHAMFER2_PART_33_SIZE, length2=CHAMFER2_PART_33_SIZE2, reference=chamfer2_part_33_side[0])

    # Chamfer2 part 34
    chamfer2_part_34_edges = [part.edges().sort_by_distance(p)[0] for p in [
        (-10.16, 0.32, -3.75),
    ]]
    chamfer2_part_34_side = [part.faces().sort_by_distance(p)[0] for p in [
        (-10.16, 0.32, -2.335),
    ]]
    chamfer(chamfer2_part_34_edges, length=CHAMFER2_PART_34_SIZE, length2=CHAMFER2_PART_34_SIZE2, reference=chamfer2_part_34_side[0])

    # Chamfer2 part 35
    chamfer2_part_35_edges = [part.edges().sort_by_distance(p)[0] for p in [
        (-10.48, 0, -3.75),
    ]]
    chamfer2_part_35_side = [part.faces().sort_by_distance(p)[0] for p in [
        (-10.48, 0, -2.335),
    ]]
    chamfer(chamfer2_part_35_edges, length=CHAMFER2_PART_35_SIZE, length2=CHAMFER2_PART_35_SIZE2, reference=chamfer2_part_35_side[0])

    # Chamfer2 part 36
    chamfer2_part_36_edges = [part.edges().sort_by_distance(p)[0] for p in [
        (-10.48, 0, 7.25),
    ]]
    chamfer2_part_36_side = [part.faces().sort_by_distance(p)[0] for p in [
        (-10.48, 0, 4.25),
    ]]
    chamfer(chamfer2_part_36_edges, length=CHAMFER2_PART_36_SIZE, length2=CHAMFER2_PART_36_SIZE2, reference=chamfer2_part_36_side[0])

    # Chamfer2 part 37
    chamfer2_part_37_edges = [part.edges().sort_by_distance(p)[0] for p in [
        (-10.16, -0.32, -3.75),
    ]]
    chamfer2_part_37_side = [part.faces().sort_by_distance(p)[0] for p in [
        (-10.16, -0.32, -2.335),
    ]]
    chamfer(chamfer2_part_37_edges, length=CHAMFER2_PART_37_SIZE, length2=CHAMFER2_PART_37_SIZE2, reference=chamfer2_part_37_side[0])

    # Chamfer2 part 38
    chamfer2_part_38_edges = [part.edges().sort_by_distance(p)[0] for p in [
        (-9.84, 0, -3.75),
    ]]
    chamfer2_part_38_side = [part.faces().sort_by_distance(p)[0] for p in [
        (-9.84, 0, -2.335),
    ]]
    chamfer(chamfer2_part_38_edges, length=CHAMFER2_PART_38_SIZE, length2=CHAMFER2_PART_38_SIZE2, reference=chamfer2_part_38_side[0])

    # Chamfer2 part 39
    chamfer2_part_39_edges = [part.edges().sort_by_distance(p)[0] for p in [
        (-10.16, 0.32, 7.25),
    ]]
    chamfer2_part_39_side = [part.faces().sort_by_distance(p)[0] for p in [
        (-10.16, 0.32, 4.25),
    ]]
    chamfer(chamfer2_part_39_edges, length=CHAMFER2_PART_39_SIZE, length2=CHAMFER2_PART_39_SIZE2, reference=chamfer2_part_39_side[0])

    # Chamfer2 part 40
    chamfer2_part_40_edges = [part.edges().sort_by_distance(p)[0] for p in [
        (-9.84, 0, 7.25),
    ]]
    chamfer2_part_40_side = [part.faces().sort_by_distance(p)[0] for p in [
        (-9.84, 0, 4.25),
    ]]
    chamfer(chamfer2_part_40_edges, length=CHAMFER2_PART_40_SIZE, length2=CHAMFER2_PART_40_SIZE2, reference=chamfer2_part_40_side[0])


solid = part.part
